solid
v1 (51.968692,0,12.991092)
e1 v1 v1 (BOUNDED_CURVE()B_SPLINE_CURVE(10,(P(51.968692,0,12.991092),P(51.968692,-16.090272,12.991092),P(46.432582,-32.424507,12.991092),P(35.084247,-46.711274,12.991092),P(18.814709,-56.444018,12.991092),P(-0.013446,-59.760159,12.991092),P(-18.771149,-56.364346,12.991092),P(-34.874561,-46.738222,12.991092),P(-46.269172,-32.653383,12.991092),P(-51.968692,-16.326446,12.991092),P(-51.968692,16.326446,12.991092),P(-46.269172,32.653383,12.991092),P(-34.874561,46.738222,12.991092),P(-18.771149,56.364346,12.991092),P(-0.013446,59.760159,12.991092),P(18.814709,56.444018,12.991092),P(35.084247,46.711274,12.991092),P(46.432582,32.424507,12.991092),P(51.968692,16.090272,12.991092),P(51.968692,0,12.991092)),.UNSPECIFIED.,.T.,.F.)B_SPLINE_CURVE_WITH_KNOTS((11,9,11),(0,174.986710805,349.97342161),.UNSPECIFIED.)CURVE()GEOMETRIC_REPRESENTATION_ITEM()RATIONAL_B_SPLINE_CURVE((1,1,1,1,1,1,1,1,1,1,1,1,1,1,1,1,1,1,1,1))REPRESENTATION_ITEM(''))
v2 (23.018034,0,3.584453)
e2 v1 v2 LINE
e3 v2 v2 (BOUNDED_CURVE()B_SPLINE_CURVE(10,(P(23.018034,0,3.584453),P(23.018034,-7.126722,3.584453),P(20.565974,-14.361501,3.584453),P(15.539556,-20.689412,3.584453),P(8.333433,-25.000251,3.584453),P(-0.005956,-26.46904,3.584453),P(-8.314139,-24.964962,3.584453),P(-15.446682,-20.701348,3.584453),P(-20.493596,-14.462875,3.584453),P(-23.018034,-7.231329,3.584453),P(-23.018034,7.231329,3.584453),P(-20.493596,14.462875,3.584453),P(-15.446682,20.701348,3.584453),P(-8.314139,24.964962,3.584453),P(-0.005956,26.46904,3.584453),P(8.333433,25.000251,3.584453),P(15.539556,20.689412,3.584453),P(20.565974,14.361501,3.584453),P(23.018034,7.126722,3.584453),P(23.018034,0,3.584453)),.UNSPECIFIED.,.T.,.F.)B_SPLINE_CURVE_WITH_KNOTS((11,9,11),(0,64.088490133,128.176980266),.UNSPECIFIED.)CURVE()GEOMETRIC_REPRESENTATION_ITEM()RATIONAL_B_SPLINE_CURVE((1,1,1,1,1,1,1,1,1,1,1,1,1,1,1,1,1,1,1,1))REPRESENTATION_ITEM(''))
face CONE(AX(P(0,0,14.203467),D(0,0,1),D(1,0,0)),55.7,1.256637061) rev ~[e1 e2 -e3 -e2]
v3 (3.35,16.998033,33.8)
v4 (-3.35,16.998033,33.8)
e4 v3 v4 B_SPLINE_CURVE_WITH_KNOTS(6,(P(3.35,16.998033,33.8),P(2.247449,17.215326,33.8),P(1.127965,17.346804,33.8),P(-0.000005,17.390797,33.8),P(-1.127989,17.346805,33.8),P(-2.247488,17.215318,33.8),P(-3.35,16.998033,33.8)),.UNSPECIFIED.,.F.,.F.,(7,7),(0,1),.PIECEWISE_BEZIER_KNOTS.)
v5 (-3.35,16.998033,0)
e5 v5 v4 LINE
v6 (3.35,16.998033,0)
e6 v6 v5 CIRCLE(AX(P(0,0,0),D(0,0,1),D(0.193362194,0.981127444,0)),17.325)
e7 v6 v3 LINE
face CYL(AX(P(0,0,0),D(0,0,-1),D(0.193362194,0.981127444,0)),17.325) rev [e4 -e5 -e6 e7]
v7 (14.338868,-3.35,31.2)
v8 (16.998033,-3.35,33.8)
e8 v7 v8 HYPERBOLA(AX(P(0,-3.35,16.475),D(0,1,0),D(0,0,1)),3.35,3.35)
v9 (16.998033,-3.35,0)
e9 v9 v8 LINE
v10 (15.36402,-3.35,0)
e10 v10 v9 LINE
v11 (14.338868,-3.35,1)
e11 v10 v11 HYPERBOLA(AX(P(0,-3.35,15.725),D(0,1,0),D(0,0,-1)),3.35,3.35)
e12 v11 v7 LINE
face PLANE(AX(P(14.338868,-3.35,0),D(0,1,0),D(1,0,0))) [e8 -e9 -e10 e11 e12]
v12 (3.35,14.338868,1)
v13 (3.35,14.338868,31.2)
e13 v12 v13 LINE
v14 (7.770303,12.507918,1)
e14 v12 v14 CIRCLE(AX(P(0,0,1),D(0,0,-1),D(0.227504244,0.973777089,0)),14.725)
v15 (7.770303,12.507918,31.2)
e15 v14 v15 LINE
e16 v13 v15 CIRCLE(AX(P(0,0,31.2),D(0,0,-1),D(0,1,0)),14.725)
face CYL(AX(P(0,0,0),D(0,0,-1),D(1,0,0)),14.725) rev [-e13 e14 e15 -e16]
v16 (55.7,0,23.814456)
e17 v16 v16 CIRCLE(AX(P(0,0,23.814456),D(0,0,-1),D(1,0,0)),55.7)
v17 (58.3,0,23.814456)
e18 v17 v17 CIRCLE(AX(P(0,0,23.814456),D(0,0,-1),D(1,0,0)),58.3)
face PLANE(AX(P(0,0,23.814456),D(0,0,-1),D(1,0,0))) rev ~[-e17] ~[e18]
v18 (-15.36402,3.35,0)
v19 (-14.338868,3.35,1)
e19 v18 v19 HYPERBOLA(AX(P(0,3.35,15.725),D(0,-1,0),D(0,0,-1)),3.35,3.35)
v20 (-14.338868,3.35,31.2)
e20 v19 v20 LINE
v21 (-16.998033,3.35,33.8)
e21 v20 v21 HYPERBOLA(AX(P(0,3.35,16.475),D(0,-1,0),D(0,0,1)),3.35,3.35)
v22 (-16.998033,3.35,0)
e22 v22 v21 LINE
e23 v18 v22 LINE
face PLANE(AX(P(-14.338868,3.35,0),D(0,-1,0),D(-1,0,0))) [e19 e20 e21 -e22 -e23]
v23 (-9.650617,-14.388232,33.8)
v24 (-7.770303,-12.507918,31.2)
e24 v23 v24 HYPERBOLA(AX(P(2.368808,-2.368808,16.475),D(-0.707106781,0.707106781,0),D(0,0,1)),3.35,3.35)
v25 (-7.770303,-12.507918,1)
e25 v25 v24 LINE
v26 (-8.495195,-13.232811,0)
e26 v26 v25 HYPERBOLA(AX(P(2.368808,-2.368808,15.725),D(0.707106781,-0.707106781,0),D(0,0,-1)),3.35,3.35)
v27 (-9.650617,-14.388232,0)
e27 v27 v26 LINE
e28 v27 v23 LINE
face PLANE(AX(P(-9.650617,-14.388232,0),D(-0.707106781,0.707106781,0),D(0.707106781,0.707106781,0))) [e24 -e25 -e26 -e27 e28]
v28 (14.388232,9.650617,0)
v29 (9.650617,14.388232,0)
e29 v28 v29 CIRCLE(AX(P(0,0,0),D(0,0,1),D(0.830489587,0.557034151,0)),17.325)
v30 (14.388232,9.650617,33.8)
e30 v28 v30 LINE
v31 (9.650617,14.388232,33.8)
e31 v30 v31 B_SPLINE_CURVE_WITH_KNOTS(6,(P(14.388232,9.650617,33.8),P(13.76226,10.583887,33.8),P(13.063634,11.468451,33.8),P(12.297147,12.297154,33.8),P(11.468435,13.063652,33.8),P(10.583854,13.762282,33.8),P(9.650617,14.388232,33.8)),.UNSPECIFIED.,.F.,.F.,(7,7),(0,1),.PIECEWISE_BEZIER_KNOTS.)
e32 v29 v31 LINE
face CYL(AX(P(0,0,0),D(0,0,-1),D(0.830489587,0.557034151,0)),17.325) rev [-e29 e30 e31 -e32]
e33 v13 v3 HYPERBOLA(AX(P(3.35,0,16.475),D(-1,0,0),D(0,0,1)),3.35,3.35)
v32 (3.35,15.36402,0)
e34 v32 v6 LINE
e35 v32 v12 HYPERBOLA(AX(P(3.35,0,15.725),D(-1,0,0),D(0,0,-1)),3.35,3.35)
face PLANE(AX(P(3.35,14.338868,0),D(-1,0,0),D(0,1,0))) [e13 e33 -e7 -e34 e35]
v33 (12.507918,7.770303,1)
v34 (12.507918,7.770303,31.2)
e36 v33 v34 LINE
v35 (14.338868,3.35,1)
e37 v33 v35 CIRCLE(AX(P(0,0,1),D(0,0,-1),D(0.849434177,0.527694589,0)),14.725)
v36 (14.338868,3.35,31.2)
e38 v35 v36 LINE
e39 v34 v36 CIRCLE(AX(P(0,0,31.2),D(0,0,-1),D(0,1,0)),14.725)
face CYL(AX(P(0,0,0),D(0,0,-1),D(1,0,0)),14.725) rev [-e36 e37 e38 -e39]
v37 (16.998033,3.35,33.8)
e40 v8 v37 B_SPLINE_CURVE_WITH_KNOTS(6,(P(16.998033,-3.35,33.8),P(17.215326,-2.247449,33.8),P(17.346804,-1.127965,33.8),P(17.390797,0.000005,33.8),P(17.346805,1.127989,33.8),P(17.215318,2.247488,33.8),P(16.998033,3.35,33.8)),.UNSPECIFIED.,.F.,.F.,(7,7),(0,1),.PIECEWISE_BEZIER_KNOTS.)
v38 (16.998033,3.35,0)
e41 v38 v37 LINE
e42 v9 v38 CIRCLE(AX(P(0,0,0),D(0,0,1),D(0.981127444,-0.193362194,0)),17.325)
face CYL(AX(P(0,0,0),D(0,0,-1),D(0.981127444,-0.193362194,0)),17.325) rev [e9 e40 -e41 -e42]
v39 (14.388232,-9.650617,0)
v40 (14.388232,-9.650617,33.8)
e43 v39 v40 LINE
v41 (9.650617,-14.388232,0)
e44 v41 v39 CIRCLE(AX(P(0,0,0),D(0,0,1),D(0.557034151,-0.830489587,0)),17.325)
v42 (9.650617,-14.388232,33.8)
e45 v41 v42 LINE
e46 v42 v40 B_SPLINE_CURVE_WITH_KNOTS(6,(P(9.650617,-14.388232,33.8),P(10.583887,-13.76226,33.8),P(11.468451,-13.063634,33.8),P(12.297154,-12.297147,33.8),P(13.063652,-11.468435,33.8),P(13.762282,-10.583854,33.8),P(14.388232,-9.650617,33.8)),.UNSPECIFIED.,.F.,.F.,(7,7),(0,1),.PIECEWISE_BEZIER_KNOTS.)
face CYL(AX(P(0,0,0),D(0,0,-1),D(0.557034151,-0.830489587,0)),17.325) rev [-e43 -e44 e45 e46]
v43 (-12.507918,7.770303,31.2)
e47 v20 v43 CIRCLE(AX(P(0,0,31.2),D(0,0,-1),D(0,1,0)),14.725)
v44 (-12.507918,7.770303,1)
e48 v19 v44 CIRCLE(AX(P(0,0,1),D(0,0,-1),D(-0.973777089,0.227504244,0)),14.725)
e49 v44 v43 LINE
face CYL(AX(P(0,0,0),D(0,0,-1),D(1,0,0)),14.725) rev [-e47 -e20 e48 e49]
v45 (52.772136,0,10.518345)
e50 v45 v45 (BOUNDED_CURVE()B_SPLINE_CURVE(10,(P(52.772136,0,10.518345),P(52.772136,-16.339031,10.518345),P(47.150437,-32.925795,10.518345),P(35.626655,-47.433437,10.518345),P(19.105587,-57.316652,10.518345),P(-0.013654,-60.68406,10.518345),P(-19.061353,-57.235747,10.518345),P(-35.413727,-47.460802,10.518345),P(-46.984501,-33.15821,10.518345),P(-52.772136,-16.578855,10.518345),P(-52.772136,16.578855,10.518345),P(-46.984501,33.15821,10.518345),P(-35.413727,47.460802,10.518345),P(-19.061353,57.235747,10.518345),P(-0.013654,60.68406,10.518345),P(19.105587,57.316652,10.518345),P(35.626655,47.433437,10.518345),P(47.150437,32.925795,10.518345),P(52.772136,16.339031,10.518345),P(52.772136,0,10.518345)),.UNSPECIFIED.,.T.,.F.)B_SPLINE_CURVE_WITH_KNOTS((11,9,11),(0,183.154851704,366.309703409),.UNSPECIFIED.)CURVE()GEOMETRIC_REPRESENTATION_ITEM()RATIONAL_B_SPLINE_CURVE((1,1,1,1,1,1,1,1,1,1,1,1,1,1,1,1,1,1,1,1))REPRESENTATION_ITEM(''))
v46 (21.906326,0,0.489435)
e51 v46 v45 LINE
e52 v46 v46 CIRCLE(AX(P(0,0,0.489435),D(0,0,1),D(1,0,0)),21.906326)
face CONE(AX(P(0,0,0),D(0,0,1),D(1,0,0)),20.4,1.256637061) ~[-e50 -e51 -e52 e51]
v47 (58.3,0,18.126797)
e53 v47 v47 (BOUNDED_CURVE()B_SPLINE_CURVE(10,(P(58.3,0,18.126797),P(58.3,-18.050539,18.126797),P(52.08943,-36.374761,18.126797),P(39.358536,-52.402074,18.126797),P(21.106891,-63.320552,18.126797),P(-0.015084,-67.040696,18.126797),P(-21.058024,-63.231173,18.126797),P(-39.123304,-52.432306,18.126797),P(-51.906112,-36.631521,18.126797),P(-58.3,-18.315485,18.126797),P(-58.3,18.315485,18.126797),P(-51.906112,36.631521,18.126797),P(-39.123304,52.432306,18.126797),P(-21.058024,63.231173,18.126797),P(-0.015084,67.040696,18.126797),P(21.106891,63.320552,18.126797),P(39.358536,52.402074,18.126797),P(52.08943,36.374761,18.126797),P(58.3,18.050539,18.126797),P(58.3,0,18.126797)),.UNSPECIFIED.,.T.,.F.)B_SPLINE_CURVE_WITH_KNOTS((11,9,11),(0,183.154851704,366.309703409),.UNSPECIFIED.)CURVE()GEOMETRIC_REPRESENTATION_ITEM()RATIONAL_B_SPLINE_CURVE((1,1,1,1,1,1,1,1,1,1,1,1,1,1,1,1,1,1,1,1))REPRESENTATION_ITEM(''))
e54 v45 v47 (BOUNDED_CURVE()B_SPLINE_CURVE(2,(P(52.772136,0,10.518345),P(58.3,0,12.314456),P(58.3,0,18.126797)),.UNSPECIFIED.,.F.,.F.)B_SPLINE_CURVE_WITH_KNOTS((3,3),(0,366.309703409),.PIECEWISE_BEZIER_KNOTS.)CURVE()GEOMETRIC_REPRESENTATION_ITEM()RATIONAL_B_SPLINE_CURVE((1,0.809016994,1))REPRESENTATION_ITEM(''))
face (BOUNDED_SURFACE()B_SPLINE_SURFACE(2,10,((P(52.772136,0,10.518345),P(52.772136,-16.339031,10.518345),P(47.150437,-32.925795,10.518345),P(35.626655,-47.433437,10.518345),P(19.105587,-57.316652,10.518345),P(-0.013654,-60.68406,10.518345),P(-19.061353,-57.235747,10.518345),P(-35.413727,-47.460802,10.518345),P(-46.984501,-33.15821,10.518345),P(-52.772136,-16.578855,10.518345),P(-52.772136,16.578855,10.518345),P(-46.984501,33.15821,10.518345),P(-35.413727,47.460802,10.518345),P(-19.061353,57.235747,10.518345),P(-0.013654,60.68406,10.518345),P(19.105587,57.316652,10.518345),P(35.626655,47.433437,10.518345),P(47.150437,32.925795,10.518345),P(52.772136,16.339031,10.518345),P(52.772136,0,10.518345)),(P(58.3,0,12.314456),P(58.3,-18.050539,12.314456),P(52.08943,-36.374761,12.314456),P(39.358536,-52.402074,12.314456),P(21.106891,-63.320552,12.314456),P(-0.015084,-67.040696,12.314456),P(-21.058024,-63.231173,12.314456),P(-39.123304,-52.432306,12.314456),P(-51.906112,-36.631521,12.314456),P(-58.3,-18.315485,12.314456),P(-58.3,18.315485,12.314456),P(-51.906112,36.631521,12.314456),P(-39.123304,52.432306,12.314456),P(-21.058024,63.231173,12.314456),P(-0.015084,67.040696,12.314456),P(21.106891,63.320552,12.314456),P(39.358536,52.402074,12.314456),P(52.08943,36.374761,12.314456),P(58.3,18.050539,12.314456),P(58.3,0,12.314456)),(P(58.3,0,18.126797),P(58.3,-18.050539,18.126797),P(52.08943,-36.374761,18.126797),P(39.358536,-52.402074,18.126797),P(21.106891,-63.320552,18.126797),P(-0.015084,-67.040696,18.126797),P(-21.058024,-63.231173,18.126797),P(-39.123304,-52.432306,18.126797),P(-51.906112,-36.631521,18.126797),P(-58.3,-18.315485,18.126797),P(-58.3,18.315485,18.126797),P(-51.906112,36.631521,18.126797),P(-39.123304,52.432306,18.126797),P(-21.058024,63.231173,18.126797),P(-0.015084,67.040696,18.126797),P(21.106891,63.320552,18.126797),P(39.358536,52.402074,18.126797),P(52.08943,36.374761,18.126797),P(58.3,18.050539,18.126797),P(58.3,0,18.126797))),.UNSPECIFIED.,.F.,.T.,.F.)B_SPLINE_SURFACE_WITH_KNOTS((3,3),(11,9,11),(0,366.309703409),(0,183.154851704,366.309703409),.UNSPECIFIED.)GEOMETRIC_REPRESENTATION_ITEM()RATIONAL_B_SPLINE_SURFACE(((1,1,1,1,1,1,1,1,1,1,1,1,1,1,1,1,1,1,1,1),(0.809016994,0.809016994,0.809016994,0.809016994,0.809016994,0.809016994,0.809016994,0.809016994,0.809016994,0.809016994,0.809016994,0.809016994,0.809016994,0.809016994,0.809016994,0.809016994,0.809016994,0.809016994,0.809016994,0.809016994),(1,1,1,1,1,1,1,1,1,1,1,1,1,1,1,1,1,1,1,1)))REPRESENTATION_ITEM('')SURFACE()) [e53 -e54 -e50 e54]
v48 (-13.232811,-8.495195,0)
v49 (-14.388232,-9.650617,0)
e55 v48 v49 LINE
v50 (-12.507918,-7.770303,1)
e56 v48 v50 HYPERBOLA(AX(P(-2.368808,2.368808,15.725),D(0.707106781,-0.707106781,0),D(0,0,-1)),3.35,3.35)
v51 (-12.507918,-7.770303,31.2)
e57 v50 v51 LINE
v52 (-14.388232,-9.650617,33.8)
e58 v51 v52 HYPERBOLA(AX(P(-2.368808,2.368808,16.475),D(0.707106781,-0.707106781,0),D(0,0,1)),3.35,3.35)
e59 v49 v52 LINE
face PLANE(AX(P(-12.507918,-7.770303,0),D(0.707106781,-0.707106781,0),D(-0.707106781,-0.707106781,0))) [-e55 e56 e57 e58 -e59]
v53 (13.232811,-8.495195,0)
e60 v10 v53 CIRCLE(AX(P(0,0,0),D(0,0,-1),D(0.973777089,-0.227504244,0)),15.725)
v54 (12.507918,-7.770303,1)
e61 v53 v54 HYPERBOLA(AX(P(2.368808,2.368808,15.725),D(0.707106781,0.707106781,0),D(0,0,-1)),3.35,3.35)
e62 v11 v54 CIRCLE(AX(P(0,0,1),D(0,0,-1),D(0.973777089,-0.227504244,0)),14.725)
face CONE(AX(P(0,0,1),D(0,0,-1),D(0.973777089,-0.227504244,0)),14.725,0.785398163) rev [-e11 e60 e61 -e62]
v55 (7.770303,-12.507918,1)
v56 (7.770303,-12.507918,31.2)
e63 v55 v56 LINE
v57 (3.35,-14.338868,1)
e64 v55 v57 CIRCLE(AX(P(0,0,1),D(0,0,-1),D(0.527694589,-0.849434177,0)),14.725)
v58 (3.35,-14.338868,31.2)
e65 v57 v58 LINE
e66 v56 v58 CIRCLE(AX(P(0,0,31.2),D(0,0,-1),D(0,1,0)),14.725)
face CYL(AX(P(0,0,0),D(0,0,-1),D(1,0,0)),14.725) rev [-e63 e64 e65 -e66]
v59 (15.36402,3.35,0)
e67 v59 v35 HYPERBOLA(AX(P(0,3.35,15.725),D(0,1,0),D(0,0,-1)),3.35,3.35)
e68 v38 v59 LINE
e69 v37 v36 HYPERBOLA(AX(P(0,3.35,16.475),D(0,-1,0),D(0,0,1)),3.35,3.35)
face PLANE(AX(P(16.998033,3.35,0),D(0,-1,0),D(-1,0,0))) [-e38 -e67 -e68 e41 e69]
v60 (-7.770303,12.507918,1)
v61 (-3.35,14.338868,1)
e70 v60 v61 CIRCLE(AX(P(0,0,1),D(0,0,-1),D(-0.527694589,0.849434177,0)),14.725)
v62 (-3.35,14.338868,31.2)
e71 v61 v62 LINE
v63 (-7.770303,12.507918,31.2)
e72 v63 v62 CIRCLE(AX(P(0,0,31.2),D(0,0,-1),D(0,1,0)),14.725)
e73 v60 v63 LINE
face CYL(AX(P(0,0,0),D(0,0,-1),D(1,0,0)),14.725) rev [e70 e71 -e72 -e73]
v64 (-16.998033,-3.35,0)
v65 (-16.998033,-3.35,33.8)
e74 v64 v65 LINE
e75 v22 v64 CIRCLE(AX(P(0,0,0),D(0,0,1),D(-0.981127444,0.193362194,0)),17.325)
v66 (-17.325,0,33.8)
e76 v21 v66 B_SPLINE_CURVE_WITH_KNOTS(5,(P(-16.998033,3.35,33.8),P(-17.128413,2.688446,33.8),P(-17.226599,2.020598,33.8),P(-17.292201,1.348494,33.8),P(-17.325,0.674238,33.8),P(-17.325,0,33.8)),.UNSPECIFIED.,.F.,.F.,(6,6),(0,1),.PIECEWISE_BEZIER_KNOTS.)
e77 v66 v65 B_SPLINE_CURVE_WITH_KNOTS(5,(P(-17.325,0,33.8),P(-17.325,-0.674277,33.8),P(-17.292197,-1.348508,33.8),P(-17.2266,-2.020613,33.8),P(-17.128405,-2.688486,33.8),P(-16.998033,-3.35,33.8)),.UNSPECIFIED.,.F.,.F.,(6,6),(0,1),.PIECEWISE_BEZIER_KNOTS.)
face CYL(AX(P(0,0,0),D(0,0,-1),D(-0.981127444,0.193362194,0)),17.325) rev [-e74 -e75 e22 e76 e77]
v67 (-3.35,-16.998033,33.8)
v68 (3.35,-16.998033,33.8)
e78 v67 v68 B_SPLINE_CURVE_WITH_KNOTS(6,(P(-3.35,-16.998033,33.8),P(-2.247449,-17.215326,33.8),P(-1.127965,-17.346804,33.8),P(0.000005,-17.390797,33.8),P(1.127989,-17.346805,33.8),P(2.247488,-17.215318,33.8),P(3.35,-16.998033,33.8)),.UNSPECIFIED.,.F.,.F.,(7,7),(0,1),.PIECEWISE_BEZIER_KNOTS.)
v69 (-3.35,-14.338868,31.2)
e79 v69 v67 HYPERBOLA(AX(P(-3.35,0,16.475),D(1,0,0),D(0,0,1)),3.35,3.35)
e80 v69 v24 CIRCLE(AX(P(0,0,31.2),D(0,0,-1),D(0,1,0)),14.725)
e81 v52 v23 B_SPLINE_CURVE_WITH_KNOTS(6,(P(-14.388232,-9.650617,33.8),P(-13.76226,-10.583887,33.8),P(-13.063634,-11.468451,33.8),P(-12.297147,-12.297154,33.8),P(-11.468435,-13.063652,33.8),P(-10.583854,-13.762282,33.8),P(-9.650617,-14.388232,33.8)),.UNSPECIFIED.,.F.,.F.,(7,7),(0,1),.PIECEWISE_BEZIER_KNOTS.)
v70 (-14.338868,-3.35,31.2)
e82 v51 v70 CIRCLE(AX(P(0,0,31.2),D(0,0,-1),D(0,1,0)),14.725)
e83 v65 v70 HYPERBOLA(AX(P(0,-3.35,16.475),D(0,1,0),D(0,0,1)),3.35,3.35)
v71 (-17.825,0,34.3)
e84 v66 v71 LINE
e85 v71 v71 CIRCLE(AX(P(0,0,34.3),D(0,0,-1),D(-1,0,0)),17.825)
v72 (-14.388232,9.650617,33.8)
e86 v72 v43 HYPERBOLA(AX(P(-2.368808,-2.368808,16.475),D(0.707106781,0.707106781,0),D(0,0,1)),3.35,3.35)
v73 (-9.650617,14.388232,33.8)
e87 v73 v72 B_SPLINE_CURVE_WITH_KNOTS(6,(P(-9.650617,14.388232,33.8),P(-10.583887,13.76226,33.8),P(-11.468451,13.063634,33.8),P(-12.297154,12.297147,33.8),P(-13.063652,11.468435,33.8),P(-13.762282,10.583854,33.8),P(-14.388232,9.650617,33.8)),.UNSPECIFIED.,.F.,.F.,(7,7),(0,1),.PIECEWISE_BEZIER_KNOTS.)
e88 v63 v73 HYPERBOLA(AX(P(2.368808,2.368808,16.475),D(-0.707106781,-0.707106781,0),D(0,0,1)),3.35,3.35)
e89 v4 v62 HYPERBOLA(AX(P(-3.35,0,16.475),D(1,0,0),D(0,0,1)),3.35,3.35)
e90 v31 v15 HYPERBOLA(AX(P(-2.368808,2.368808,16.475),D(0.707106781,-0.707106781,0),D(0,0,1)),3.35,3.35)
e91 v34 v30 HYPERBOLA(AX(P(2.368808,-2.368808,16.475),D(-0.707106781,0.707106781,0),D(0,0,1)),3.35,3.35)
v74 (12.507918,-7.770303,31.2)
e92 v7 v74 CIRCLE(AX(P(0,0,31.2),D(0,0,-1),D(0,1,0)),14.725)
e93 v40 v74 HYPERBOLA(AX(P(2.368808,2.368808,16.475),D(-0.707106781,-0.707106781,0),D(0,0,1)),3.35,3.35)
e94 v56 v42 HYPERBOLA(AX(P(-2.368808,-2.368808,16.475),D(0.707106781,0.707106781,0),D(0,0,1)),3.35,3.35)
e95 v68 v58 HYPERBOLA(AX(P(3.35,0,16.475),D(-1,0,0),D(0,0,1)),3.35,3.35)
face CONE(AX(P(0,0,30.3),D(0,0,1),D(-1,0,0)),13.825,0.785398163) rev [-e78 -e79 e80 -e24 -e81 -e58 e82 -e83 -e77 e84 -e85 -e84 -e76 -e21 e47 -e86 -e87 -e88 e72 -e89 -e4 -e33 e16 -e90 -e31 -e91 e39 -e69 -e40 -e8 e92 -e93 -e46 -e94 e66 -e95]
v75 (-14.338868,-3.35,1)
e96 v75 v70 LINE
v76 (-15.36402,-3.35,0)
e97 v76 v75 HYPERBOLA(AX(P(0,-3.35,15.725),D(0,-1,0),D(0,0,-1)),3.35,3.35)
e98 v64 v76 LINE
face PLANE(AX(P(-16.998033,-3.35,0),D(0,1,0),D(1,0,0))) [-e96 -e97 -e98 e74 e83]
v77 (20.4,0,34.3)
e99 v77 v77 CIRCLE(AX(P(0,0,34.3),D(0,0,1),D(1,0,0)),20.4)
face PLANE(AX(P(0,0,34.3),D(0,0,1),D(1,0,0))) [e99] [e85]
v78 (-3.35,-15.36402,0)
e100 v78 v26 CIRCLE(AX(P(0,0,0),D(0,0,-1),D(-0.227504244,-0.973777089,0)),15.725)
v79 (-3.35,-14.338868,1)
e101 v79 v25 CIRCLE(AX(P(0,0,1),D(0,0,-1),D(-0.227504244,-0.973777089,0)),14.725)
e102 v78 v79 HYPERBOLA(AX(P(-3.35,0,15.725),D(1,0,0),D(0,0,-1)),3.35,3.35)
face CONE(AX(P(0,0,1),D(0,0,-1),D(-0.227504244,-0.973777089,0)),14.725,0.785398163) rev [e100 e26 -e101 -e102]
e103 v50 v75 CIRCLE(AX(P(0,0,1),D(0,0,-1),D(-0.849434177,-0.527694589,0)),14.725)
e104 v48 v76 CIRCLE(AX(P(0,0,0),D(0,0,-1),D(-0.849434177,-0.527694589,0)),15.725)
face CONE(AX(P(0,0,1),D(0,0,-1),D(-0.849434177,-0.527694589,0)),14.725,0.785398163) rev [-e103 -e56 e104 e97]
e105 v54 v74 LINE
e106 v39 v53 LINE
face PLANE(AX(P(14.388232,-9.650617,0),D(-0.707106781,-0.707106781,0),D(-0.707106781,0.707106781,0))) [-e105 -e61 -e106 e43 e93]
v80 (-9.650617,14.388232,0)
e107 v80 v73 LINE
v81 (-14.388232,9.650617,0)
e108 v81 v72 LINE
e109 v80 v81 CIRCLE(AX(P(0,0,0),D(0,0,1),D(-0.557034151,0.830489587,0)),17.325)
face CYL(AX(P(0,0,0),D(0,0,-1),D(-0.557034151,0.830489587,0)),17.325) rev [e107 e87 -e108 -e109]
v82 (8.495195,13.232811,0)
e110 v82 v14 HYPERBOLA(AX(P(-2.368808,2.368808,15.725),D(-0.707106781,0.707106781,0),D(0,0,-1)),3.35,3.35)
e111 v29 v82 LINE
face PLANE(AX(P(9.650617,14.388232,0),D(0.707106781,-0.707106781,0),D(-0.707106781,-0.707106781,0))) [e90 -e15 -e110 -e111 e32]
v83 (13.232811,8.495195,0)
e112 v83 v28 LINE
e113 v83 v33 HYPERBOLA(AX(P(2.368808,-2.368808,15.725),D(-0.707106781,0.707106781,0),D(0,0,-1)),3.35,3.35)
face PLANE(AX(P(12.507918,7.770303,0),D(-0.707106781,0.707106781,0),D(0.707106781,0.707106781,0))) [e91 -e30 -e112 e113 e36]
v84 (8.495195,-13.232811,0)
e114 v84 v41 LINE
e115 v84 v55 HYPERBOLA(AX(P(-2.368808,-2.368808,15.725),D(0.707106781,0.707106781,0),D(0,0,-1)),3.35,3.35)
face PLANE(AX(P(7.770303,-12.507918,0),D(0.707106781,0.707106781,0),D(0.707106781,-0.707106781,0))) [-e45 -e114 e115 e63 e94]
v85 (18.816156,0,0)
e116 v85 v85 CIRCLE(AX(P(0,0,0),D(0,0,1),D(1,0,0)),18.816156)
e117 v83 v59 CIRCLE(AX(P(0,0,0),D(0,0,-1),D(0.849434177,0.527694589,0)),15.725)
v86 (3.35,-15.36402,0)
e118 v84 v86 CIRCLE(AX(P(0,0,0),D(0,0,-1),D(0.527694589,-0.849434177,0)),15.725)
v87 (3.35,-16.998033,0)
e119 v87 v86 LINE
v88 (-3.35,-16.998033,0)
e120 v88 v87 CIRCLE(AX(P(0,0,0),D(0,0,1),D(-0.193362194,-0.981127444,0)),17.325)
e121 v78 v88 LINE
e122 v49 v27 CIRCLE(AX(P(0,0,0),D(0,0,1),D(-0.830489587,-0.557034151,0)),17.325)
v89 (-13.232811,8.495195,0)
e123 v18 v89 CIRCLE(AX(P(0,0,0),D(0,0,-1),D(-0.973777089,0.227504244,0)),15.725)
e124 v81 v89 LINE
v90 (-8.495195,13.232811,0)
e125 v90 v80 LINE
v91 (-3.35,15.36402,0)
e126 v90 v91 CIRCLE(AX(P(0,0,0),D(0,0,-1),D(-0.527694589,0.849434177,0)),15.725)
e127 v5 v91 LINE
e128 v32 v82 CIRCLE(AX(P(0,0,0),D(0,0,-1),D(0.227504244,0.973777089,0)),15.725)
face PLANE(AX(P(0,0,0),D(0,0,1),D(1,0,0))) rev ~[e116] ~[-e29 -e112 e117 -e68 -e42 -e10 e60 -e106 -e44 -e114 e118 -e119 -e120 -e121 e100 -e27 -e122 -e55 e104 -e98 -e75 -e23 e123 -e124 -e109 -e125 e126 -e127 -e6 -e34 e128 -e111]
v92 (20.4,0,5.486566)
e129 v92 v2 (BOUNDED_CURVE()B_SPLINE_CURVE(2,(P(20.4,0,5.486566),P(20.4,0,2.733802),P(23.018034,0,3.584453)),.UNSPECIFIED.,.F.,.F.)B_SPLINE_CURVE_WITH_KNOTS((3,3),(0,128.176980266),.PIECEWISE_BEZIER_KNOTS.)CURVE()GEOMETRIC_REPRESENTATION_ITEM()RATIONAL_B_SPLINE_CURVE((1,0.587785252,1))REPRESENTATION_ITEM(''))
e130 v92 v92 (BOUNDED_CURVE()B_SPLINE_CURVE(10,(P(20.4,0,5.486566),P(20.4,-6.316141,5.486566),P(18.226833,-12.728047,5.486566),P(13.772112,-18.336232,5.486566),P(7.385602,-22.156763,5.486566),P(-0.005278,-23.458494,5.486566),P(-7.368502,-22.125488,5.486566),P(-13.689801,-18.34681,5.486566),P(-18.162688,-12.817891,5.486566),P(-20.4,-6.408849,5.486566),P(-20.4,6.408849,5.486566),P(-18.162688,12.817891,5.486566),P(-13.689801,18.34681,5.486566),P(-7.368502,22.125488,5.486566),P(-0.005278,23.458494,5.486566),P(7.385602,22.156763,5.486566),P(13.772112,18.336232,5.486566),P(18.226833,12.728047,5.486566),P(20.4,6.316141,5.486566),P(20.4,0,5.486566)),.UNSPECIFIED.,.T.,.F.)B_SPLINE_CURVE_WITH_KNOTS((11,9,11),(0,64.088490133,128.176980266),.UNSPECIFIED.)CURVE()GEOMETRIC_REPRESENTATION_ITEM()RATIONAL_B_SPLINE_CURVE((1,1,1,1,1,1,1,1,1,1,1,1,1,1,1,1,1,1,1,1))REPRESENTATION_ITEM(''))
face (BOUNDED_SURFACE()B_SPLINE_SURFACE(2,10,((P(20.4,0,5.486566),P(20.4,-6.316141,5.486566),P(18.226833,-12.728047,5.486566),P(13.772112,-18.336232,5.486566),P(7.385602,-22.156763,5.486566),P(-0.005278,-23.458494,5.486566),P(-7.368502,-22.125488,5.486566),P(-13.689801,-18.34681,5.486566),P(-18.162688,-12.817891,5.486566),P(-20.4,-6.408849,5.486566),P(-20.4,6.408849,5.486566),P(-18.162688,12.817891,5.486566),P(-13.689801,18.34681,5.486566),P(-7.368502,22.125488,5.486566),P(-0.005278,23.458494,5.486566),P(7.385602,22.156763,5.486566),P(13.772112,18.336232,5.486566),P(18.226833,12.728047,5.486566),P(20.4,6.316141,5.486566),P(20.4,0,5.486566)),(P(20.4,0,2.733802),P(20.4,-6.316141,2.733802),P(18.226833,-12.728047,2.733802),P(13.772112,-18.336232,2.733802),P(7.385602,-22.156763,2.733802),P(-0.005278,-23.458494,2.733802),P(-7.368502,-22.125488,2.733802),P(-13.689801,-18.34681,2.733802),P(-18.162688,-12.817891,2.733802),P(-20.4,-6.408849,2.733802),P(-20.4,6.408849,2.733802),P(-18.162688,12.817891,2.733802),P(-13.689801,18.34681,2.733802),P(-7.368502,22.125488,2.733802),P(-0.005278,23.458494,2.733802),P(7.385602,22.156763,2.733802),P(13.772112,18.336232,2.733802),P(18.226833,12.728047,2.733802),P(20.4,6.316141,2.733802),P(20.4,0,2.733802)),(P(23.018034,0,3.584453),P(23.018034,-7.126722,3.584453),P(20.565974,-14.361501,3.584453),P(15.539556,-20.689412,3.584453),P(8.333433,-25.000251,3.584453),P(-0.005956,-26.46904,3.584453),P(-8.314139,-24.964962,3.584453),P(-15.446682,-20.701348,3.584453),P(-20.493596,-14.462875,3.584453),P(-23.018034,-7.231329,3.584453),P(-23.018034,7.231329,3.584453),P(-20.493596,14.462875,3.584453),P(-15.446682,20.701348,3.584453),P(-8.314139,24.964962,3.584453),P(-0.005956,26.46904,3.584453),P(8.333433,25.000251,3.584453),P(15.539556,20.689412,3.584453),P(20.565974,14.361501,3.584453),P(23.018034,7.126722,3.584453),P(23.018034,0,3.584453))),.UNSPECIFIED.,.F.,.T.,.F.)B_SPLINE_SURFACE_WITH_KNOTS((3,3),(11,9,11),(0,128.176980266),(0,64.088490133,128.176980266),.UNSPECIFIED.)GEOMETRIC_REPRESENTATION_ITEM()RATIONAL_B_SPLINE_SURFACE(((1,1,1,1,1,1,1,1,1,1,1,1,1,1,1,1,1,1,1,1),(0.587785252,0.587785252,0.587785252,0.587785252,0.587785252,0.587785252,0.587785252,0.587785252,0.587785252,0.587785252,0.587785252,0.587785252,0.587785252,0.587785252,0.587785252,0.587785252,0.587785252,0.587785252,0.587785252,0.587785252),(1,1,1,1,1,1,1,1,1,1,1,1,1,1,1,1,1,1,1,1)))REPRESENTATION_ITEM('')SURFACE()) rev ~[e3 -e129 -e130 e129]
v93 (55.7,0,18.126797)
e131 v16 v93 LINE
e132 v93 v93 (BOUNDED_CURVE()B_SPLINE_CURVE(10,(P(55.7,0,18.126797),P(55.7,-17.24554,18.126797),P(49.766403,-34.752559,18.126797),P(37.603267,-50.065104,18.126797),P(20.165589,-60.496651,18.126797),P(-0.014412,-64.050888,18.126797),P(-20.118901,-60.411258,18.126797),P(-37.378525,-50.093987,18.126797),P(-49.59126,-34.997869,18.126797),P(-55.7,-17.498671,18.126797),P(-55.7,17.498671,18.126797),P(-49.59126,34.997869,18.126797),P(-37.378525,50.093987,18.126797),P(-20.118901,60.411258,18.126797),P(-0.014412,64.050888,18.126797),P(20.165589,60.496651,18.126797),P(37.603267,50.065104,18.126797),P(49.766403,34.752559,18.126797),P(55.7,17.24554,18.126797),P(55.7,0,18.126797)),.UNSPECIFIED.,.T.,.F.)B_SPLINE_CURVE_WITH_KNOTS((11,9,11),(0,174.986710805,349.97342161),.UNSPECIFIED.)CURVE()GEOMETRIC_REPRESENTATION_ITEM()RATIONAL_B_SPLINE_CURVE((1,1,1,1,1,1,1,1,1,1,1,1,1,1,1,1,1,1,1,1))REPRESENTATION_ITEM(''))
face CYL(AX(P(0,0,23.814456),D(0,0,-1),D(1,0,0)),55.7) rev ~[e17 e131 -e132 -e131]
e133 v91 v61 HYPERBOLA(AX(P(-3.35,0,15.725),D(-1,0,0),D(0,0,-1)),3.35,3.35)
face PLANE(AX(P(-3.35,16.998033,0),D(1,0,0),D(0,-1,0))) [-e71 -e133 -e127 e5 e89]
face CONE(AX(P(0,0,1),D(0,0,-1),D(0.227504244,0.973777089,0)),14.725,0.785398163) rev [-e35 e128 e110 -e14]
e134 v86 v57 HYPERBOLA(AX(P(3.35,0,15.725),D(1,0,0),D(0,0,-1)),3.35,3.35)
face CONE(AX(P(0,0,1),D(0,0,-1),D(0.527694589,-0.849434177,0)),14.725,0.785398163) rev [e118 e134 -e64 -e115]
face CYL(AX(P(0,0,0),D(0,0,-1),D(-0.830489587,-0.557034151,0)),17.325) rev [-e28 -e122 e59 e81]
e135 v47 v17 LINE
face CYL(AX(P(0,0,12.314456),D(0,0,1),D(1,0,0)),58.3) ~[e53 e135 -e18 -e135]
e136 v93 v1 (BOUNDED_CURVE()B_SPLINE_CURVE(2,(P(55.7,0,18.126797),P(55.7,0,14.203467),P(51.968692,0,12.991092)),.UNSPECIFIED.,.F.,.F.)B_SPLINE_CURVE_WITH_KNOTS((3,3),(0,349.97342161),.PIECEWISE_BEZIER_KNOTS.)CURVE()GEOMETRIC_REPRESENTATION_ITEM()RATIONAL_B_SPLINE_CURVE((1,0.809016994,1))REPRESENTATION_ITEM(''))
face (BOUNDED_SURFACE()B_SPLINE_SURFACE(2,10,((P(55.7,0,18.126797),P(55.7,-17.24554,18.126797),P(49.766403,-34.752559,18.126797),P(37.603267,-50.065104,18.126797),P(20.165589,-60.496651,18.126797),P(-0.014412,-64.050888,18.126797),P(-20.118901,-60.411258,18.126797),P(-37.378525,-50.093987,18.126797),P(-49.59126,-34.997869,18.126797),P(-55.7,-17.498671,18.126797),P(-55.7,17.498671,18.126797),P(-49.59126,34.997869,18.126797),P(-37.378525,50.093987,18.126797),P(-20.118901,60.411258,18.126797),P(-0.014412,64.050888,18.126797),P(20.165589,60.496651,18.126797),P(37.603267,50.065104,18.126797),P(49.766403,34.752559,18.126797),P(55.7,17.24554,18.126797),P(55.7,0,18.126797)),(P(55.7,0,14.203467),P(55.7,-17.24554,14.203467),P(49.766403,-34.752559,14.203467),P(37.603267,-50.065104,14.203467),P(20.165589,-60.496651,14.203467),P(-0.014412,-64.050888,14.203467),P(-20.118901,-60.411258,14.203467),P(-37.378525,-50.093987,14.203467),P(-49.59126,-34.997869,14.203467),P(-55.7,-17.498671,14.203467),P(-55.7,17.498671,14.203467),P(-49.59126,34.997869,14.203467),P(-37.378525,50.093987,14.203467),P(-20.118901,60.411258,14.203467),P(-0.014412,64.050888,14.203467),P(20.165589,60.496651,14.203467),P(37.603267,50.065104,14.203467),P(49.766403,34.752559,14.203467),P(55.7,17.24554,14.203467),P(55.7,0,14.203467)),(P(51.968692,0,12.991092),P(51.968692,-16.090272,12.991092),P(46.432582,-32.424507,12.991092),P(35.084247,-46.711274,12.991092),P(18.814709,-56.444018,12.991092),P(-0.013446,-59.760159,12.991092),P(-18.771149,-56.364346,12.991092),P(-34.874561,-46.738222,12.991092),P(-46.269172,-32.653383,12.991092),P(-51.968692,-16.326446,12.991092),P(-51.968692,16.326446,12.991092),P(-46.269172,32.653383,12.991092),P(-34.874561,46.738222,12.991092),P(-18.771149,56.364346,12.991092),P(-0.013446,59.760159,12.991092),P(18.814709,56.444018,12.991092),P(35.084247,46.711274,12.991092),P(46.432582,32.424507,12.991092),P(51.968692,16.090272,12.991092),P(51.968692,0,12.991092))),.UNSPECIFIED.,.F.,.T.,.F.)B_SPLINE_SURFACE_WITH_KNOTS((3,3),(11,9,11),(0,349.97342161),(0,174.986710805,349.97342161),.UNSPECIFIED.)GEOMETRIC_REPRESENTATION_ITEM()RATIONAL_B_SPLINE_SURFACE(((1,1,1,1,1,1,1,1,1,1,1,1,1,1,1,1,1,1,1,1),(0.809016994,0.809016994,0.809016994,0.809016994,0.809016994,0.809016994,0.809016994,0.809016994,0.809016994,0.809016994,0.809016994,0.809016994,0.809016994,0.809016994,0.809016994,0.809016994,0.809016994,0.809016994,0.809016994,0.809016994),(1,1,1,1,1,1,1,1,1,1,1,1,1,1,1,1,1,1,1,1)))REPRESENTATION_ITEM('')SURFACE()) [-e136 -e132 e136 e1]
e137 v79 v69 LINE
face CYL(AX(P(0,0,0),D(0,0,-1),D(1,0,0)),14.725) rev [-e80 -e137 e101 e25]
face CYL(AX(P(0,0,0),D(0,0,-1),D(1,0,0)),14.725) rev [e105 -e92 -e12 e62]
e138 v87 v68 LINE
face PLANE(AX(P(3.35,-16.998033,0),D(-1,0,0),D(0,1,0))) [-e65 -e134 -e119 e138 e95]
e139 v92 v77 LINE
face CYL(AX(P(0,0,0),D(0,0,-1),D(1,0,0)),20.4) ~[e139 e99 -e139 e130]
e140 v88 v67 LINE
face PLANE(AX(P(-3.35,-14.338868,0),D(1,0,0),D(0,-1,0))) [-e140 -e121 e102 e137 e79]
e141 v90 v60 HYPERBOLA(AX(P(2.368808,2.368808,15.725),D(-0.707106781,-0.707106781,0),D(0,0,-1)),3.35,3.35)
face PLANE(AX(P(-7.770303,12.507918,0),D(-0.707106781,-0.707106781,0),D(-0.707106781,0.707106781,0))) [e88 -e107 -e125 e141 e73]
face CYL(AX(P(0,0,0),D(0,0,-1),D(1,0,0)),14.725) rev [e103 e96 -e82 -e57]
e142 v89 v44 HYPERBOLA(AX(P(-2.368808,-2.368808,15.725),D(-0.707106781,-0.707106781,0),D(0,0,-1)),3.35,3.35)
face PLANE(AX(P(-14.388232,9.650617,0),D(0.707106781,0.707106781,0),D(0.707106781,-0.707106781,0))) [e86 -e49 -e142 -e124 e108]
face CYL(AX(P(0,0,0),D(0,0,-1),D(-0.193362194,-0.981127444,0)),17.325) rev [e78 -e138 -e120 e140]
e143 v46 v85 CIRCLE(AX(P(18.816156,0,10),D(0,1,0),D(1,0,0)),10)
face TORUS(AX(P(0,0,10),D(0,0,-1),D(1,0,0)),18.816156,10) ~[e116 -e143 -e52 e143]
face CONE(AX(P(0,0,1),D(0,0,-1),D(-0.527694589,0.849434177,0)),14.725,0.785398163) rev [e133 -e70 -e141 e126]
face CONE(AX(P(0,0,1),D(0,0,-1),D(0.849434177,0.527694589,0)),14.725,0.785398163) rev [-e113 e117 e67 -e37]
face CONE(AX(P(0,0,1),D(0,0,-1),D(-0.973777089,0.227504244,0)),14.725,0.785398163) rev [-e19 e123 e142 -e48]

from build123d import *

# Parameters (mm, degrees)
SKETCH1_R           = 20.4
SKETCH1_R_2         = 14.725
BOSS_EXTRUDE1_DEPTH = 34.3
FILLET1_R           = 8
FILLET2_R           = 5.4
CUT_EXTRUDE1_DEPTH  = 90.29876936
CIRPATTERN1_COUNT   = 8
FILLET3_R           = 10
CHAMFER1_SIZE       = 1
FILLET4_R           = 2


with BuildPart() as part:
    # Sketch1 → Boss-Extrude1 (new body)
    with BuildSketch(Plane.XY):
        Circle(SKETCH1_R)
        Circle(SKETCH1_R_2, mode=Mode.SUBTRACT)
    extrude(amount=BOSS_EXTRUDE1_DEPTH)

    # Sketch3 → Revolve1 (revolve)
    with BuildSketch(Plane(origin=(0, 0, 0), x_dir=(1, 0, 0), z_dir=(0, 1, 0)), mode=Mode.PRIVATE) as revolve1_sk:
        Polygon((-20.4, 0), (-58.3, -12.314456487), (-58.3, -23.814456487), (-55.7, -23.814456487), (-55.7, -14.20346706), (-20.4, -2.733801783), align=None)
    revolve(revolve1_sk.sketch.rotate(Axis((0, 0, 0), (0, 0, -1)), 180), axis=Axis((0, 0, 0), (0, 0, -1)))

    # Fillet1
    fillet1_edges = [part.edges().sort_by_distance(p)[0] for p in [
        (-58.3, 0, 12.314456487),
    ]]
    fillet(fillet1_edges, radius=FILLET1_R)

    # Fillet2
    fillet2_edges = [part.edges().sort_by_distance(p)[0] for p in [
        (-55.7, 0, 14.20346706),
    ]]
    fillet(fillet2_edges, radius=FILLET2_R)

    # Sketch4 → Cut-Extrude1 (cut, through all)
    with BuildSketch(Plane(origin=(0, 0, 0), x_dir=(-1, 0, 0), z_dir=(0, 0, -1))):
        with BuildLine():
            Line((-3.35, 14.338867633), (-3.35, 16.998032974))
            ThreePointArc((-3.35, 16.998032974), (0, 17.325), (3.35, 16.998032974))
            Line((3.35, 16.998032974), (3.35, 14.338867633))
            ThreePointArc((3.35, 14.338867633), (0, 14.725), (-3.35, 14.338867633))
        make_face()
    cut_extrude1 = extrude(amount=-CUT_EXTRUDE1_DEPTH, mode=Mode.SUBTRACT)

    # CirPattern1: Cut-Extrude1 ×8 about axis
    cirpattern1_axis = Axis((0, 0, 0), (0, 0, 1))
    for i in range(1, CIRPATTERN1_COUNT):
        add(cut_extrude1.rotate(cirpattern1_axis, i * 360 / CIRPATTERN1_COUNT), mode=Mode.SUBTRACT)

    # Fillet3
    fillet3_edges = [part.edges().sort_by_distance(p)[0] for p in [
        (-20.4, 0, 0),
    ]]
    fillet(fillet3_edges, radius=FILLET3_R)

    # Sketch5 → Cut-Revolve1 (revolve, cut)
    with BuildSketch(Plane(origin=(0, 0, 0), x_dir=(1, 0, 0), z_dir=(0, 1, 0))):
        Polygon((-17.325, -34.3), (-17.325, -33.8), (-13.825, -30.3), (-13.825, -34.3), align=None)
        Polygon((-17.825, -34.3), (-17.325, -33.8), (-17.325, -34.3), align=None)
    revolve(axis=Axis((0, 0, 0), (0, 0, -1)), mode=Mode.SUBTRACT)

    # Chamfer1
    chamfer1_edges = [part.edges().sort_by_distance(p)[0] for p in [
        (-13.604126116, -5.635013542, 0),
        (-13.604126116, 5.635013542, 0),
        (-5.635013542, 13.604126116, 0),
        (5.635013542, 13.604126116, 0),
        (13.604126116, 5.635013542, 0),
        (13.604126116, -5.635013542, 0),
        (5.635013542, -13.604126116, 0),
        (-5.635013542, -13.604126116, 0),
    ]]
    chamfer(chamfer1_edges, length=CHAMFER1_SIZE)

    # Fillet4
    fillet4_edges = [part.edges().sort_by_distance(p)[0] for p in [
        (-20.4, 0, 2.733801783),
    ]]
    fillet(fillet4_edges, radius=FILLET4_R)


solid = part.part
